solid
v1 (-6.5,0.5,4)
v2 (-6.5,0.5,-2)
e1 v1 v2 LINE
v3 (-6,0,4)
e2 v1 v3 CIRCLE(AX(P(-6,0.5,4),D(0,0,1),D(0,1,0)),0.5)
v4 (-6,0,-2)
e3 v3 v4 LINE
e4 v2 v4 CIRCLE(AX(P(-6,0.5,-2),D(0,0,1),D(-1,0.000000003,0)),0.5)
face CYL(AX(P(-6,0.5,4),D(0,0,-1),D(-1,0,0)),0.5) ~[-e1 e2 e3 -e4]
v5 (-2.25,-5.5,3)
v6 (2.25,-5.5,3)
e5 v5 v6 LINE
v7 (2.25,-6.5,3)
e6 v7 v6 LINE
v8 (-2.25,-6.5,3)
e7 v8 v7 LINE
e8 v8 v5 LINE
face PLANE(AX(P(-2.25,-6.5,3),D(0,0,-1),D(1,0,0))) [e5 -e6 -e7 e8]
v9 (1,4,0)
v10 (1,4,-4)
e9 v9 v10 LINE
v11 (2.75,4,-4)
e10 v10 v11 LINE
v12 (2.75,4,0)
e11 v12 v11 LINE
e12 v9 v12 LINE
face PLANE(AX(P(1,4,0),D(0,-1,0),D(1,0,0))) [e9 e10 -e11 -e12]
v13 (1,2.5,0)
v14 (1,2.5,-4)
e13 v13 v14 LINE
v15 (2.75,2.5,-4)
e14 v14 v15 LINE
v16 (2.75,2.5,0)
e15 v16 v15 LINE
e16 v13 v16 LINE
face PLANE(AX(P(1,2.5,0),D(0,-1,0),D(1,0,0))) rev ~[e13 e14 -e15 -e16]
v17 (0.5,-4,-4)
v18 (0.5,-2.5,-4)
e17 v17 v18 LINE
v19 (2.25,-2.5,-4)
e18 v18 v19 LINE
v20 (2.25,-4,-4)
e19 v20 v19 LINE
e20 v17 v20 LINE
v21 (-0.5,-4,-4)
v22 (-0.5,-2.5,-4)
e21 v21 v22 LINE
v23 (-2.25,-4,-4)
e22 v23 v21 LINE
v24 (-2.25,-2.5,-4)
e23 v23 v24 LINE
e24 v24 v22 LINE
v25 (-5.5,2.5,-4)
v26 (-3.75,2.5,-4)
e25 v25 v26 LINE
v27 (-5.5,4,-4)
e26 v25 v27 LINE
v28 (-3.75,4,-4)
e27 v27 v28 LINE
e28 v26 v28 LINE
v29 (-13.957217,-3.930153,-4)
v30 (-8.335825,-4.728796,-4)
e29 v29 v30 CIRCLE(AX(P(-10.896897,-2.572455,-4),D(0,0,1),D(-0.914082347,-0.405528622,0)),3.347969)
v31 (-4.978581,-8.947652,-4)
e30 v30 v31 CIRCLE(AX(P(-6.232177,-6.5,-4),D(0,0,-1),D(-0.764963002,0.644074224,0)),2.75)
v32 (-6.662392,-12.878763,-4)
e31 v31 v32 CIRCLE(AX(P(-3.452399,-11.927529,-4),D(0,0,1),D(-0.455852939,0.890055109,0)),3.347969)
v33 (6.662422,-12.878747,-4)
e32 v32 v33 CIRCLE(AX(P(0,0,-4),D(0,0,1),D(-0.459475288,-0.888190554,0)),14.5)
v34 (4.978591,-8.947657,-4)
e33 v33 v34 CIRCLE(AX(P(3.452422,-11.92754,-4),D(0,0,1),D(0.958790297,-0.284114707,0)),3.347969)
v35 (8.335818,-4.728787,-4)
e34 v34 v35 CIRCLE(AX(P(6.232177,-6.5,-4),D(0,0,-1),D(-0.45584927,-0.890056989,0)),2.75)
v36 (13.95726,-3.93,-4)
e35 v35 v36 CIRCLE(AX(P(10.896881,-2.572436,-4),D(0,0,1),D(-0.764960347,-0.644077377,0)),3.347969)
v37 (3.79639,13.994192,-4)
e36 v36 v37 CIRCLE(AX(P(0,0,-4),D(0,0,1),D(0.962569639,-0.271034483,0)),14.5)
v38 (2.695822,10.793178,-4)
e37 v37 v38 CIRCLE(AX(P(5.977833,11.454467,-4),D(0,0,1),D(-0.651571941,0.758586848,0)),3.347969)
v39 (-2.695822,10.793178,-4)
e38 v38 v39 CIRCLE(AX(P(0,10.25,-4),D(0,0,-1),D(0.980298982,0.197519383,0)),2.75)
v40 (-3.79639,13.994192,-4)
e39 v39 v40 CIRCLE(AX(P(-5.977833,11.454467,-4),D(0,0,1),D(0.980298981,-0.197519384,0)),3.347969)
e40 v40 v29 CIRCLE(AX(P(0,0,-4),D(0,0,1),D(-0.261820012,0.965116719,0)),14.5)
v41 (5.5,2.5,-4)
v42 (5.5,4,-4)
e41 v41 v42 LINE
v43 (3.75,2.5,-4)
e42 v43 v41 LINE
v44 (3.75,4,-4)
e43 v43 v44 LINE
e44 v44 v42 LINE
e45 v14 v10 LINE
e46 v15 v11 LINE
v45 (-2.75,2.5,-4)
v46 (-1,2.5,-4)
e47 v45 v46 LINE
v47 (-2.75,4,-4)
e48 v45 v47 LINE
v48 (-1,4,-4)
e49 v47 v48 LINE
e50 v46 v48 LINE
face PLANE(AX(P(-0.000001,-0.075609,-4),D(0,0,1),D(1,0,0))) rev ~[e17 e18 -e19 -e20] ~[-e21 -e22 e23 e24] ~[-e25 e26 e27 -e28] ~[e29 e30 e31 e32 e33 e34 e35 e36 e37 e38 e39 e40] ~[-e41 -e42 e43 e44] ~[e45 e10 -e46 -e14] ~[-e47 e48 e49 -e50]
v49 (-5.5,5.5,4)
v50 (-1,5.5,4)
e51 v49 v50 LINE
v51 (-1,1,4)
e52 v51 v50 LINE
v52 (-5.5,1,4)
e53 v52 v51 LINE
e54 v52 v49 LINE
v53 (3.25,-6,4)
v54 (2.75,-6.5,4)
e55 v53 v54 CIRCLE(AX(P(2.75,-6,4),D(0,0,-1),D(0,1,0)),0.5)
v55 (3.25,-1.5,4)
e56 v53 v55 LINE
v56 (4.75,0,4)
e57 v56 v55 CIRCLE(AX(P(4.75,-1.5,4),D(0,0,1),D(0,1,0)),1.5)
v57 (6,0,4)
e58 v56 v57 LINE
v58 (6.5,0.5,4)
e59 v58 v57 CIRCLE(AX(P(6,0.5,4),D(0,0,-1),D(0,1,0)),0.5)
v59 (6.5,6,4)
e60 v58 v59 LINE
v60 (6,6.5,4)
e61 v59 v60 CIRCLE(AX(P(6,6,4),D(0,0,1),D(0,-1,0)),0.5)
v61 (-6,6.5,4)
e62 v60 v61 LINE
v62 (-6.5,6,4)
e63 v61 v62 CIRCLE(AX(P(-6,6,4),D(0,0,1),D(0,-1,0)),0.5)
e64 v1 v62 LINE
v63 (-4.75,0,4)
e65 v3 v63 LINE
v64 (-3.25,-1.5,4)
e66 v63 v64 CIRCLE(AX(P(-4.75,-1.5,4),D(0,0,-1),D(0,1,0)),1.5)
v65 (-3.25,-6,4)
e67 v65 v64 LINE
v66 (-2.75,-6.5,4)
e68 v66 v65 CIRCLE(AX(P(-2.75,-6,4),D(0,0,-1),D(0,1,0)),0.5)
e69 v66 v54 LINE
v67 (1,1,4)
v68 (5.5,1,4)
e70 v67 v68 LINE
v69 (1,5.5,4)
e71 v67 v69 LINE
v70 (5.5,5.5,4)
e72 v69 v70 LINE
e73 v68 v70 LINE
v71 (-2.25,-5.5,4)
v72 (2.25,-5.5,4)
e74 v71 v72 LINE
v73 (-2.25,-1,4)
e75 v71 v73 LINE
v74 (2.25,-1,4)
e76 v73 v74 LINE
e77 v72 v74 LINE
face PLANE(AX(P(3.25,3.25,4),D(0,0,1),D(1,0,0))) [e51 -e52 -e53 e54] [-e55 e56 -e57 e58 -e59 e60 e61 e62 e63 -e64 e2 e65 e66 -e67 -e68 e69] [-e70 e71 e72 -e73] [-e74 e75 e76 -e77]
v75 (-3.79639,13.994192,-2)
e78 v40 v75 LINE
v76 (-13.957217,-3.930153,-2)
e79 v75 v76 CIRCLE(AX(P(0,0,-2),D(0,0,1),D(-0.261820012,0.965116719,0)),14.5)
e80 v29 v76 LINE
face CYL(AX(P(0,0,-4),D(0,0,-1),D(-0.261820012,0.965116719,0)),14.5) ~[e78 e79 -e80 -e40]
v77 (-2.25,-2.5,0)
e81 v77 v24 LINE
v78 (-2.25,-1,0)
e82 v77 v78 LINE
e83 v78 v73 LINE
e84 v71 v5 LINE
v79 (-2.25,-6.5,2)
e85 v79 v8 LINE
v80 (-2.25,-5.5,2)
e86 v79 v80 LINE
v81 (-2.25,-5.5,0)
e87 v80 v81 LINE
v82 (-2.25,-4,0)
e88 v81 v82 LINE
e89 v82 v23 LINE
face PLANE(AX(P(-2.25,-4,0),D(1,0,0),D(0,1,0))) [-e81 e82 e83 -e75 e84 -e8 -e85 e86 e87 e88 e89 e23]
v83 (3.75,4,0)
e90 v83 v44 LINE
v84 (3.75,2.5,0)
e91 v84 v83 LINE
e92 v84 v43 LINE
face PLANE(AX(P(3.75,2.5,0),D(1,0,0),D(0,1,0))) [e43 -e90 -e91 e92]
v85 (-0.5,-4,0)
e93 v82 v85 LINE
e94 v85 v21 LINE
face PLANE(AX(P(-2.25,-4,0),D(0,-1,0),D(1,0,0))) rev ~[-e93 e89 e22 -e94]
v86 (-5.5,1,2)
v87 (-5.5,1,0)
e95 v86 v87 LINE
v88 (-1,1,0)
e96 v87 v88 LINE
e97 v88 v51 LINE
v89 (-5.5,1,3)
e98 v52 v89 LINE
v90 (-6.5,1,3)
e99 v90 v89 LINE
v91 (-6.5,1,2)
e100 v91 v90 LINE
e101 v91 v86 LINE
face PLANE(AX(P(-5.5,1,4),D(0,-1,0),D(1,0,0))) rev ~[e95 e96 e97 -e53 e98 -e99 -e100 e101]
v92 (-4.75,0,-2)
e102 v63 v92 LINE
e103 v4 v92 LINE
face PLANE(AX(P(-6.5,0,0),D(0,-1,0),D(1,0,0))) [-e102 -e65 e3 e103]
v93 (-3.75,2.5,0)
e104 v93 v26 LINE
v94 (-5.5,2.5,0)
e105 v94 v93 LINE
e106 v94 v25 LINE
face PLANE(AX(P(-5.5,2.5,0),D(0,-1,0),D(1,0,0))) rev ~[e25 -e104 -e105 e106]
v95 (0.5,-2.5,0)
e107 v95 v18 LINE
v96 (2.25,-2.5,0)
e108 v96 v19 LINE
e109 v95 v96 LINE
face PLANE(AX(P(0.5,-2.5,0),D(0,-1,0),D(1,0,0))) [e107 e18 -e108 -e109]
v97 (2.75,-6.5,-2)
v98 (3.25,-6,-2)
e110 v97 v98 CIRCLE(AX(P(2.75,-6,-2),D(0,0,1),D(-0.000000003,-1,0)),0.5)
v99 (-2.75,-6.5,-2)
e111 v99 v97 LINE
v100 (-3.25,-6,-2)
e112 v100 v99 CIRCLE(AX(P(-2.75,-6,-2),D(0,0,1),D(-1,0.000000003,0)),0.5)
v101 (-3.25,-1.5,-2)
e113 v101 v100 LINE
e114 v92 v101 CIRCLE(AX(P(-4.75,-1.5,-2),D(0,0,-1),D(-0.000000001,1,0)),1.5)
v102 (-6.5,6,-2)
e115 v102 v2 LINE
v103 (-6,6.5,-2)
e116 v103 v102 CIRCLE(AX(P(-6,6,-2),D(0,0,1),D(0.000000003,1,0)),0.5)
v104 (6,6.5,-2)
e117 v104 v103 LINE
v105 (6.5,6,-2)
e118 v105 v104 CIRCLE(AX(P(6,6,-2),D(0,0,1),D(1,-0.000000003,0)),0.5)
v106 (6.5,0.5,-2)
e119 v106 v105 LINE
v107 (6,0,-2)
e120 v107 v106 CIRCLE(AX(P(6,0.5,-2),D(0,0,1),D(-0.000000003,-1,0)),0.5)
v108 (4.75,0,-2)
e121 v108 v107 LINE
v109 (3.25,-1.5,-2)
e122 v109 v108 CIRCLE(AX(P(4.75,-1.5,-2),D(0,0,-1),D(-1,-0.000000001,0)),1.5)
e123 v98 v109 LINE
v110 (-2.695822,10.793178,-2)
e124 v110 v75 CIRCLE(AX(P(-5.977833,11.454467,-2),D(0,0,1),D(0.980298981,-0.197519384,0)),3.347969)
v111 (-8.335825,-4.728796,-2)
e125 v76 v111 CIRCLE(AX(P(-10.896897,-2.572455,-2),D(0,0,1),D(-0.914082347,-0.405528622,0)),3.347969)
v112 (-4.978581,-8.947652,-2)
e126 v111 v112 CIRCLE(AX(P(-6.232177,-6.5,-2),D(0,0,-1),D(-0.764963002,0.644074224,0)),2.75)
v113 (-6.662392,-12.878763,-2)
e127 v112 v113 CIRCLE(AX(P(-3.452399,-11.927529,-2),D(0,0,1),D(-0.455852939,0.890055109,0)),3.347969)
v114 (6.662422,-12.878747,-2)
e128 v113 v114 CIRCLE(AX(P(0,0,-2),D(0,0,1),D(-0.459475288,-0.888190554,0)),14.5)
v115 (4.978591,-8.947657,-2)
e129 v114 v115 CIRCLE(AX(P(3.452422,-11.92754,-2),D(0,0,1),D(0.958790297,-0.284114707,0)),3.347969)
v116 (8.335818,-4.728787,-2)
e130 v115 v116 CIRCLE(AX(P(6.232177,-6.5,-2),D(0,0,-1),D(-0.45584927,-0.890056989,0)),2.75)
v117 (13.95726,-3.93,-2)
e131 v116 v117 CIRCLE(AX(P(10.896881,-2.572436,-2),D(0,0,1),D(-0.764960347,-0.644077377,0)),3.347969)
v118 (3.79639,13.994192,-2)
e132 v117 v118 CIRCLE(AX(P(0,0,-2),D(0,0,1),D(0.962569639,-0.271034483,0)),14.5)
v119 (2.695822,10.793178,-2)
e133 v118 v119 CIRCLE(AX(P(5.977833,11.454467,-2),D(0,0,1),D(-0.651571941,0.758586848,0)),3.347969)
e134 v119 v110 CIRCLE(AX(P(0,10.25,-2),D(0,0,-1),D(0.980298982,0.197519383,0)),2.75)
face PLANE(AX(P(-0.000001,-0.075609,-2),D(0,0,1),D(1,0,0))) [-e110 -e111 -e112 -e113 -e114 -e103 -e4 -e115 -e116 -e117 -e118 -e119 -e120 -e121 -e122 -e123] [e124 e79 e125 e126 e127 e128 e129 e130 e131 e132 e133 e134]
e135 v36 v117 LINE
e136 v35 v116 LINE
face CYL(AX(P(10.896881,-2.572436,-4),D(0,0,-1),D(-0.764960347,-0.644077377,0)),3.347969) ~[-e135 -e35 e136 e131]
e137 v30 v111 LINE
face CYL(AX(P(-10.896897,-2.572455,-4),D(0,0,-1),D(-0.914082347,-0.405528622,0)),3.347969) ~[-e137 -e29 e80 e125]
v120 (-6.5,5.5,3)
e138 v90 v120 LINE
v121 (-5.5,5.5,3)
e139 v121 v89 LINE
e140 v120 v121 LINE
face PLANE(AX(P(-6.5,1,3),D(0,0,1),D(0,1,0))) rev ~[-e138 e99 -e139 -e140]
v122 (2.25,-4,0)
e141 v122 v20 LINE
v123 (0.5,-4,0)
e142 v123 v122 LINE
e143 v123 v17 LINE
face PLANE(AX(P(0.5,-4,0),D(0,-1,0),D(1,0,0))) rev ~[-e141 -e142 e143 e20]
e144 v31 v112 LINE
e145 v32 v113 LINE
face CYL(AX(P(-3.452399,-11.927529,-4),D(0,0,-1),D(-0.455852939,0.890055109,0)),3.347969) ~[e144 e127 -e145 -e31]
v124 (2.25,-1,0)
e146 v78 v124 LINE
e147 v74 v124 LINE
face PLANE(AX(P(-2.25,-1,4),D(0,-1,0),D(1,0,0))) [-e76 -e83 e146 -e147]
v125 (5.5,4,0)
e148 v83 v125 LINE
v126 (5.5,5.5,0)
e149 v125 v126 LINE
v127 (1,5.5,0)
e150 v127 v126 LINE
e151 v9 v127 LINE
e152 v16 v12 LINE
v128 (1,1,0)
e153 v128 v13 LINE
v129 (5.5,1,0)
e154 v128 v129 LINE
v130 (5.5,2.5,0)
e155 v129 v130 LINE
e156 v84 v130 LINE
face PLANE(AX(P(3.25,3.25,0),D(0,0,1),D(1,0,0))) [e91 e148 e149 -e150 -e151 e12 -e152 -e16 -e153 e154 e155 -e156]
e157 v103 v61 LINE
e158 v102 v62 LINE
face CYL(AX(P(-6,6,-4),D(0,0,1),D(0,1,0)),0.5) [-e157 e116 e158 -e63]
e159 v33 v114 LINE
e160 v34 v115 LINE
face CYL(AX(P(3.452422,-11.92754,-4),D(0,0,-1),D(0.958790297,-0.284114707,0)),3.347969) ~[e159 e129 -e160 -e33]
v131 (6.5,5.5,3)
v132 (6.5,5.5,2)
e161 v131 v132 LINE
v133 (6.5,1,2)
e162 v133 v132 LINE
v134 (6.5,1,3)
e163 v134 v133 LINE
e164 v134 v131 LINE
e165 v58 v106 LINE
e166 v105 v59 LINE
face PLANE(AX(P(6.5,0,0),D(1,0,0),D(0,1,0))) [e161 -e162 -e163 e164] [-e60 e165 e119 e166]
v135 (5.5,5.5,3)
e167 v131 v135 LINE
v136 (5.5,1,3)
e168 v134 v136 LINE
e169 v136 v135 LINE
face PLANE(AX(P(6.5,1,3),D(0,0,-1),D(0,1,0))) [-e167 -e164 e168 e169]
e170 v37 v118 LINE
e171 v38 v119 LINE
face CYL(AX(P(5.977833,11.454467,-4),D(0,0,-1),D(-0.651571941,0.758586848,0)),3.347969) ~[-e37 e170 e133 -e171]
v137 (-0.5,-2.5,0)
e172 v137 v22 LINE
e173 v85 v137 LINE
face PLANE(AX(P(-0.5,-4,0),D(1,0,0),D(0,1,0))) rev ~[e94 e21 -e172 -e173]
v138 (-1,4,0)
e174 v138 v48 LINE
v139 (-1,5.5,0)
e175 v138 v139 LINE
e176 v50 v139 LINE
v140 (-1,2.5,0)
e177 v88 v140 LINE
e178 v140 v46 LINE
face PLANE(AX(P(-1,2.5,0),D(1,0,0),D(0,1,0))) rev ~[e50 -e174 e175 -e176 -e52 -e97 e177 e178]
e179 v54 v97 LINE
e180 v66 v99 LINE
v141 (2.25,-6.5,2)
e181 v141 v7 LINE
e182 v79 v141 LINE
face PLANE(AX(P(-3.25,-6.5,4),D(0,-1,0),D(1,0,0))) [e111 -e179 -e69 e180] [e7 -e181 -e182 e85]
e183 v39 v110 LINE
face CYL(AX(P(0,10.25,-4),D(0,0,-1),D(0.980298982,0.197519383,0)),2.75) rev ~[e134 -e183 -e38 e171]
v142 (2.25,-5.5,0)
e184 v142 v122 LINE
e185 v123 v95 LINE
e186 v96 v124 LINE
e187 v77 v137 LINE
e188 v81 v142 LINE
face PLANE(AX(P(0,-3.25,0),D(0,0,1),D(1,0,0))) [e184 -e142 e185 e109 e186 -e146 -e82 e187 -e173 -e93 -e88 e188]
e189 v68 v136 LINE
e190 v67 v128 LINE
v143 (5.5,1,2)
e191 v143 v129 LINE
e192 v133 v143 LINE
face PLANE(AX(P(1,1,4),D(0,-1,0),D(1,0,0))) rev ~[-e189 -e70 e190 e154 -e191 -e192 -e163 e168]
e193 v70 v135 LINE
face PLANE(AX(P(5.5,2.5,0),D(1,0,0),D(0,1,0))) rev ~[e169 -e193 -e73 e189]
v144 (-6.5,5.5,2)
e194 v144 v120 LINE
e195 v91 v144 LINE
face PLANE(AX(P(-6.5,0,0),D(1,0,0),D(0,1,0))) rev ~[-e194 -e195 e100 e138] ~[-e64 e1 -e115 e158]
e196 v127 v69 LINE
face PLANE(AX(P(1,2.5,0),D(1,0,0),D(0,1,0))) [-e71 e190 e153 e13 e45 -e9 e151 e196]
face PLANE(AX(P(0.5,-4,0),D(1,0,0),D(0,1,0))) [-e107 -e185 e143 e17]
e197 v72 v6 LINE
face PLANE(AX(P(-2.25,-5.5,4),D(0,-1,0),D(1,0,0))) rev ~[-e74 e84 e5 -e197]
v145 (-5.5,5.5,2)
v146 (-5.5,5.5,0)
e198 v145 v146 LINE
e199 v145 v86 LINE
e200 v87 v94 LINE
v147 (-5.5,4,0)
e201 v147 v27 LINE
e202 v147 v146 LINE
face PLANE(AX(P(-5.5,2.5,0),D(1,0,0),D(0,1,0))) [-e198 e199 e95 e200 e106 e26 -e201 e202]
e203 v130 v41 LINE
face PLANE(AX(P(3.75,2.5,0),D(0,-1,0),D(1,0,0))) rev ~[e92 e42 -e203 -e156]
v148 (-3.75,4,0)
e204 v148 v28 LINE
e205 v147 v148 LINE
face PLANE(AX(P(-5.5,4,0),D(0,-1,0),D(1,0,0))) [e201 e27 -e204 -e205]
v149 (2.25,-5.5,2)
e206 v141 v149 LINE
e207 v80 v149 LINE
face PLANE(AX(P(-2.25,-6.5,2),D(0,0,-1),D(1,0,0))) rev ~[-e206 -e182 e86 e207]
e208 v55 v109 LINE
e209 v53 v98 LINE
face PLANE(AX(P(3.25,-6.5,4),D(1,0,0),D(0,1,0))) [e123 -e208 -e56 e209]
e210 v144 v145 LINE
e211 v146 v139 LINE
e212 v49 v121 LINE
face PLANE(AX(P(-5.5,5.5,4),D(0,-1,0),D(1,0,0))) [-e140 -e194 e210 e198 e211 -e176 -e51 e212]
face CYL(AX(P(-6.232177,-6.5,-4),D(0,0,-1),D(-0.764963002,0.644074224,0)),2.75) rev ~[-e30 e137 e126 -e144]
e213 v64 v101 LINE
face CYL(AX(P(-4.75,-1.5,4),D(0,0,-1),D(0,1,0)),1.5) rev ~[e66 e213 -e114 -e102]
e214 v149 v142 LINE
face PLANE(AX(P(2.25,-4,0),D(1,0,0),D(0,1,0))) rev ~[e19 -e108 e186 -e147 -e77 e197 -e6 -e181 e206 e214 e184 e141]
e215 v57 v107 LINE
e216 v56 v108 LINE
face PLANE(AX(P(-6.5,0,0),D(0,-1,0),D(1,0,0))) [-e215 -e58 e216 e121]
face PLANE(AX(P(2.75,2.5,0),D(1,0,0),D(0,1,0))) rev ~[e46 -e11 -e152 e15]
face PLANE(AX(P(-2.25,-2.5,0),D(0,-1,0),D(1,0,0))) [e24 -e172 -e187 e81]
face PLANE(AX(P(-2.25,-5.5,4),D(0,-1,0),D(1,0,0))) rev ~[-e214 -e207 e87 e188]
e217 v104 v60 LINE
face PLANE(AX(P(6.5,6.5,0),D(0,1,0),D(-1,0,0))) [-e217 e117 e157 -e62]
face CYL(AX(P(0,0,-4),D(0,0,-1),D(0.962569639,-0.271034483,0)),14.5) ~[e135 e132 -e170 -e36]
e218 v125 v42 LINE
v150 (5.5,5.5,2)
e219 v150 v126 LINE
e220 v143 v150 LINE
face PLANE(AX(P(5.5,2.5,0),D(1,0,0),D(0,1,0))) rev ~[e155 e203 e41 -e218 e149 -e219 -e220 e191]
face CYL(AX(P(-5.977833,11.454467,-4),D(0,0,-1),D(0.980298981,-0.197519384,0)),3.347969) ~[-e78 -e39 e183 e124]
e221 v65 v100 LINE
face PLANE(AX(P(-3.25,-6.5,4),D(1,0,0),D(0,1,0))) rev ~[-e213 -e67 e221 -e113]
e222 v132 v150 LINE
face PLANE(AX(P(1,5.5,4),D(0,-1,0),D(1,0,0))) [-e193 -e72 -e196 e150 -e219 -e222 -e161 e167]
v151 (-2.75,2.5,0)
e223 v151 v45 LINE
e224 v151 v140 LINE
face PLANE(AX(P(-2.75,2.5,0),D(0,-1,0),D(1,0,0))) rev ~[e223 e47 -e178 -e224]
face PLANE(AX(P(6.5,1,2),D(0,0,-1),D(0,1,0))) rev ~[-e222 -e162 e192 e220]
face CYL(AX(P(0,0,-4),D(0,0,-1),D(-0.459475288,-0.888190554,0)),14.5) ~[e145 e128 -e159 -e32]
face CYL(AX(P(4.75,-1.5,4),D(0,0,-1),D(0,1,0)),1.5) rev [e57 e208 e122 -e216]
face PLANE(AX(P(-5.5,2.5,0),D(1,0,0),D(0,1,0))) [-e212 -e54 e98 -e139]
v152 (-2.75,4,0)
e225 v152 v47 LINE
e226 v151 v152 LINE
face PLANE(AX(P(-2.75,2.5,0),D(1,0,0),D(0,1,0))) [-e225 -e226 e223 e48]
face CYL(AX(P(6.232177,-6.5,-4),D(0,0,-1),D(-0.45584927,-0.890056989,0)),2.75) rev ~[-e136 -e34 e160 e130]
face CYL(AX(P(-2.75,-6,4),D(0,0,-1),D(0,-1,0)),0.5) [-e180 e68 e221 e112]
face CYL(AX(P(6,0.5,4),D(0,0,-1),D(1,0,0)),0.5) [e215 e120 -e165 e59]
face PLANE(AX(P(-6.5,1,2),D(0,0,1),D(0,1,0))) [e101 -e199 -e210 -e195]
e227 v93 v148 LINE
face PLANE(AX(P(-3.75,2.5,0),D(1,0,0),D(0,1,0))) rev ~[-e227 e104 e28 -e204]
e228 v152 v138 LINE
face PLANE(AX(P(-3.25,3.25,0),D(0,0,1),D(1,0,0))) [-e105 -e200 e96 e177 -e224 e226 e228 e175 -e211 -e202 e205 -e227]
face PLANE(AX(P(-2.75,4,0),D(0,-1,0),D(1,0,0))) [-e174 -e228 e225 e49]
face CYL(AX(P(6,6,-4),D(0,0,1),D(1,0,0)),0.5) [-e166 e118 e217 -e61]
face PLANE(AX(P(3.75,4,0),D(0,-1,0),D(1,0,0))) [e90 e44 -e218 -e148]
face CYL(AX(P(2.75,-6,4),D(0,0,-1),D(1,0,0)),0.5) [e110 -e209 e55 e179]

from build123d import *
from OCP.BRepFilletAPI import BRepFilletAPI_MakeFillet

# Parameters (mm, degrees)
SKETCH1_W           = 6.5
SKETCH1_H           = 6.5
BOSS_EXTRUDE1_DEPTH = 4
SKETCH5_W           = 6.5
SKETCH5_H           = 6.5
BOSS_EXTRUDE2_DEPTH = 8
SKETCH2_W           = 4.5
SKETCH2_H           = 4.5
CUT_EXTRUDE1_DEPTH  = 4
SKETCH10_W          = 1.75
SKETCH10_H          = 1.5
CUT_EXTRUDE3_DEPTH  = 11.024968828
FILLET7_R1          = 0.5
FILLET7_R2          = 1.5
BOSS_EXTRUDE3_DEPTH = 2
SKETCH12_W          = 1
SKETCH12_H          = 4.5
CUT_EXTRUDE4_DEPTH  = 5.5
SKETCH14_W          = 1
SKETCH14_H          = 4.5
CUT_EXTRUDE5_DEPTH  = 5.5
SKETCH15_W          = 4.5
SKETCH15_H          = 1
CUT_EXTRUDE6_DEPTH  = 5.5


with BuildPart() as part:
    # Sketch1 → Boss-Extrude1 (new, symmetric)
    with BuildSketch(Plane.XY):
        with Locations((3.25, 3.25)):
            Rectangle(SKETCH1_W, SKETCH1_H)
        with Locations((-3.25, 3.25)):
            Rectangle(SKETCH1_W, SKETCH1_H)
    extrude(amount=BOSS_EXTRUDE1_DEPTH, both=True)

    # Sketch5 → Boss-Extrude2 (add)
    with BuildSketch(Plane.XY.offset(4)):
        with Locations((0, -3.25)):
            Rectangle(SKETCH5_W, SKETCH5_H)
    extrude(amount=-BOSS_EXTRUDE2_DEPTH)

    # Sketch2 → Cut-Extrude1 (cut)
    with BuildSketch(Plane.XY.offset(4)):
        with Locations((3.25, 3.25)):
            Rectangle(SKETCH2_W, SKETCH2_H)
        with Locations((-3.25, 3.25)):
            Rectangle(SKETCH2_W, SKETCH2_H)
        with Locations((0, -3.25)):
            Rectangle(SKETCH2_W, SKETCH2_H)
    extrude(amount=-CUT_EXTRUDE1_DEPTH, mode=Mode.SUBTRACT)

    # Sketch10 → Cut-Extrude3 (cut, through all)
    with BuildSketch(Plane.XY):
        with Locations((1.875, 3.25)):
            Rectangle(SKETCH10_W, SKETCH10_H)
        with Locations((-4.625, 3.25)):
            Rectangle(SKETCH10_W, SKETCH10_H)
        with Locations((4.625, 3.25)):
            Rectangle(SKETCH10_W, SKETCH10_H)
        with Locations((-1.875, 3.25)):
            Rectangle(SKETCH10_W, SKETCH10_H)
        with Locations((-1.375, -3.25)):
            Rectangle(SKETCH10_W, SKETCH10_H)
        with Locations((1.375, -3.25)):
            Rectangle(SKETCH10_W, SKETCH10_H)
    extrude(amount=-CUT_EXTRUDE3_DEPTH, mode=Mode.SUBTRACT)

    # Fillet7: one fillet with a radius per group of edges: ONE call of the kernel's fillet builder (fillet() takes one radius for all edges)
    fillet7_edges_1 = [part.edges().sort_by_distance(p)[0] for p in [
        (-6.5, 0, 0),
        (-6.5, 6.5, 0),
        (6.5, 6.5, 0),
        (6.5, 0, 0),
        (-3.25, -6.5, 0),
        (3.25, -6.5, 0),
    ]]
    fillet7_edges_2 = [part.edges().sort_by_distance(p)[0] for p in [
        (-3.25, 0, 0),
        (3.25, 0, 0),
    ]]
    fillet7 = BRepFilletAPI_MakeFillet(part.part.solid().wrapped)
    for e in fillet7_edges_1:
        fillet7.Add(FILLET7_R1, e.wrapped)
    for e in fillet7_edges_2:
        fillet7.Add(FILLET7_R2, e.wrapped)
    add(Compound.cast(fillet7.Shape()), mode=Mode.REPLACE)

    # Sketch11 → Boss-Extrude3 (add)
    with BuildSketch(Plane.XY.offset(-4)):
        with BuildLine():
            ThreePointArc((-6.662391677, -12.878763029), (1.7135e-05, -14.5), (6.662422116, -12.878747282))
            ThreePointArc((6.662422116, -12.878747282), (6.529952292, -10.609320257), (4.978591095, -8.947656719))
            ThreePointArc((4.978591095, -8.947656719), (4.08034863, -4.787651774), (8.335817539, -4.728787212))
            ThreePointArc((8.335817539, -4.728787212), (11.36788446, -5.887108435), (13.95725976, -3.93))
            ThreePointArc((13.95725976, -3.93), (12.614166243, 7.150720942), (3.796390173, 13.994192426))
            ThreePointArc((3.796390173, 13.994192426), (2.811770094, 12.543018162), (2.695822199, 10.793178304))
            ThreePointArc((2.695822199, 10.793178304), (0, 7.5), (-2.695822199, 10.793178304))
            ThreePointArc((-2.695822199, 10.793178304), (-2.811770094, 12.543018162), (-3.796390173, 13.994192426))
            ThreePointArc((-3.796390173, 13.994192426), (-12.614205329, 7.150651992), (-13.957216796, -3.930152581))
            ThreePointArc((-13.957216796, -3.930152581), (-11.367821604, -5.887138898), (-8.335824842, -4.728795885))
            ThreePointArc((-8.335824842, -4.728795885), (-4.08035569, -4.787642902), (-4.978581003, -8.947651551))
            ThreePointArc((-4.978581003, -8.947651551), (-6.529938219, -10.609328183), (-6.662391677, -12.878763029))
        make_face()
        with BuildLine():
            Line((-3.25, -1.5), (-3.25, -6))
            ThreePointArc((-3.25, -6), (-3.103553391, -6.353553391), (-2.75, -6.5))
            Line((-2.75, -6.5), (2.75, -6.5))
            ThreePointArc((2.75, -6.5), (3.103553391, -6.353553391), (3.25, -6))
            Line((3.25, -6), (3.25, -1.5))
            ThreePointArc((3.25, -1.5), (3.689339828, -0.439339828), (4.75, 0))
            Line((4.75, 0), (6, 0))
            ThreePointArc((6, 0), (6.353553391, 0.146446609), (6.5, 0.5))
            Line((6.5, 0.5), (6.5, 6))
            ThreePointArc((6.5, 6), (6.353553391, 6.353553391), (6, 6.5))
            Line((6, 6.5), (-6, 6.5))
            ThreePointArc((-6, 6.5), (-6.353553391, 6.353553391), (-6.5, 6))
            Line((-6.5, 6), (-6.5, 0.5))
            ThreePointArc((-6.5, 0.5), (-6.353553391, 0.146446609), (-6, 0))
            Line((-6, 0), (-4.75, 0))
            ThreePointArc((-4.75, 0), (-3.689339828, -0.439339828), (-3.25, -1.5))
        make_face(mode=Mode.SUBTRACT)
    extrude(amount=BOSS_EXTRUDE3_DEPTH)

    # Sketch12 → Cut-Extrude4 (cut)
    with BuildSketch(Plane.ZY.offset(6.5)):
        with Locations((2.5, 3.25)):
            Rectangle(SKETCH12_W, SKETCH12_H)
    extrude(amount=-CUT_EXTRUDE4_DEPTH, mode=Mode.SUBTRACT)

    # Sketch14 → Cut-Extrude5 (cut)
    with BuildSketch(Plane(origin=(6.5, 0, 0), x_dir=(0, 0, -1), z_dir=(1, 0, 0))):
        with Locations((-2.5, 3.25)):
            Rectangle(SKETCH14_W, SKETCH14_H)
    extrude(amount=-CUT_EXTRUDE5_DEPTH, mode=Mode.SUBTRACT)

    # Sketch15 → Cut-Extrude6 (cut)
    with BuildSketch(Plane.XZ.offset(6.5)):
        with Locations((0, 2.5)):
            Rectangle(SKETCH15_W, SKETCH15_H)
    extrude(amount=-CUT_EXTRUDE6_DEPTH, mode=Mode.SUBTRACT)


solid = part.part
